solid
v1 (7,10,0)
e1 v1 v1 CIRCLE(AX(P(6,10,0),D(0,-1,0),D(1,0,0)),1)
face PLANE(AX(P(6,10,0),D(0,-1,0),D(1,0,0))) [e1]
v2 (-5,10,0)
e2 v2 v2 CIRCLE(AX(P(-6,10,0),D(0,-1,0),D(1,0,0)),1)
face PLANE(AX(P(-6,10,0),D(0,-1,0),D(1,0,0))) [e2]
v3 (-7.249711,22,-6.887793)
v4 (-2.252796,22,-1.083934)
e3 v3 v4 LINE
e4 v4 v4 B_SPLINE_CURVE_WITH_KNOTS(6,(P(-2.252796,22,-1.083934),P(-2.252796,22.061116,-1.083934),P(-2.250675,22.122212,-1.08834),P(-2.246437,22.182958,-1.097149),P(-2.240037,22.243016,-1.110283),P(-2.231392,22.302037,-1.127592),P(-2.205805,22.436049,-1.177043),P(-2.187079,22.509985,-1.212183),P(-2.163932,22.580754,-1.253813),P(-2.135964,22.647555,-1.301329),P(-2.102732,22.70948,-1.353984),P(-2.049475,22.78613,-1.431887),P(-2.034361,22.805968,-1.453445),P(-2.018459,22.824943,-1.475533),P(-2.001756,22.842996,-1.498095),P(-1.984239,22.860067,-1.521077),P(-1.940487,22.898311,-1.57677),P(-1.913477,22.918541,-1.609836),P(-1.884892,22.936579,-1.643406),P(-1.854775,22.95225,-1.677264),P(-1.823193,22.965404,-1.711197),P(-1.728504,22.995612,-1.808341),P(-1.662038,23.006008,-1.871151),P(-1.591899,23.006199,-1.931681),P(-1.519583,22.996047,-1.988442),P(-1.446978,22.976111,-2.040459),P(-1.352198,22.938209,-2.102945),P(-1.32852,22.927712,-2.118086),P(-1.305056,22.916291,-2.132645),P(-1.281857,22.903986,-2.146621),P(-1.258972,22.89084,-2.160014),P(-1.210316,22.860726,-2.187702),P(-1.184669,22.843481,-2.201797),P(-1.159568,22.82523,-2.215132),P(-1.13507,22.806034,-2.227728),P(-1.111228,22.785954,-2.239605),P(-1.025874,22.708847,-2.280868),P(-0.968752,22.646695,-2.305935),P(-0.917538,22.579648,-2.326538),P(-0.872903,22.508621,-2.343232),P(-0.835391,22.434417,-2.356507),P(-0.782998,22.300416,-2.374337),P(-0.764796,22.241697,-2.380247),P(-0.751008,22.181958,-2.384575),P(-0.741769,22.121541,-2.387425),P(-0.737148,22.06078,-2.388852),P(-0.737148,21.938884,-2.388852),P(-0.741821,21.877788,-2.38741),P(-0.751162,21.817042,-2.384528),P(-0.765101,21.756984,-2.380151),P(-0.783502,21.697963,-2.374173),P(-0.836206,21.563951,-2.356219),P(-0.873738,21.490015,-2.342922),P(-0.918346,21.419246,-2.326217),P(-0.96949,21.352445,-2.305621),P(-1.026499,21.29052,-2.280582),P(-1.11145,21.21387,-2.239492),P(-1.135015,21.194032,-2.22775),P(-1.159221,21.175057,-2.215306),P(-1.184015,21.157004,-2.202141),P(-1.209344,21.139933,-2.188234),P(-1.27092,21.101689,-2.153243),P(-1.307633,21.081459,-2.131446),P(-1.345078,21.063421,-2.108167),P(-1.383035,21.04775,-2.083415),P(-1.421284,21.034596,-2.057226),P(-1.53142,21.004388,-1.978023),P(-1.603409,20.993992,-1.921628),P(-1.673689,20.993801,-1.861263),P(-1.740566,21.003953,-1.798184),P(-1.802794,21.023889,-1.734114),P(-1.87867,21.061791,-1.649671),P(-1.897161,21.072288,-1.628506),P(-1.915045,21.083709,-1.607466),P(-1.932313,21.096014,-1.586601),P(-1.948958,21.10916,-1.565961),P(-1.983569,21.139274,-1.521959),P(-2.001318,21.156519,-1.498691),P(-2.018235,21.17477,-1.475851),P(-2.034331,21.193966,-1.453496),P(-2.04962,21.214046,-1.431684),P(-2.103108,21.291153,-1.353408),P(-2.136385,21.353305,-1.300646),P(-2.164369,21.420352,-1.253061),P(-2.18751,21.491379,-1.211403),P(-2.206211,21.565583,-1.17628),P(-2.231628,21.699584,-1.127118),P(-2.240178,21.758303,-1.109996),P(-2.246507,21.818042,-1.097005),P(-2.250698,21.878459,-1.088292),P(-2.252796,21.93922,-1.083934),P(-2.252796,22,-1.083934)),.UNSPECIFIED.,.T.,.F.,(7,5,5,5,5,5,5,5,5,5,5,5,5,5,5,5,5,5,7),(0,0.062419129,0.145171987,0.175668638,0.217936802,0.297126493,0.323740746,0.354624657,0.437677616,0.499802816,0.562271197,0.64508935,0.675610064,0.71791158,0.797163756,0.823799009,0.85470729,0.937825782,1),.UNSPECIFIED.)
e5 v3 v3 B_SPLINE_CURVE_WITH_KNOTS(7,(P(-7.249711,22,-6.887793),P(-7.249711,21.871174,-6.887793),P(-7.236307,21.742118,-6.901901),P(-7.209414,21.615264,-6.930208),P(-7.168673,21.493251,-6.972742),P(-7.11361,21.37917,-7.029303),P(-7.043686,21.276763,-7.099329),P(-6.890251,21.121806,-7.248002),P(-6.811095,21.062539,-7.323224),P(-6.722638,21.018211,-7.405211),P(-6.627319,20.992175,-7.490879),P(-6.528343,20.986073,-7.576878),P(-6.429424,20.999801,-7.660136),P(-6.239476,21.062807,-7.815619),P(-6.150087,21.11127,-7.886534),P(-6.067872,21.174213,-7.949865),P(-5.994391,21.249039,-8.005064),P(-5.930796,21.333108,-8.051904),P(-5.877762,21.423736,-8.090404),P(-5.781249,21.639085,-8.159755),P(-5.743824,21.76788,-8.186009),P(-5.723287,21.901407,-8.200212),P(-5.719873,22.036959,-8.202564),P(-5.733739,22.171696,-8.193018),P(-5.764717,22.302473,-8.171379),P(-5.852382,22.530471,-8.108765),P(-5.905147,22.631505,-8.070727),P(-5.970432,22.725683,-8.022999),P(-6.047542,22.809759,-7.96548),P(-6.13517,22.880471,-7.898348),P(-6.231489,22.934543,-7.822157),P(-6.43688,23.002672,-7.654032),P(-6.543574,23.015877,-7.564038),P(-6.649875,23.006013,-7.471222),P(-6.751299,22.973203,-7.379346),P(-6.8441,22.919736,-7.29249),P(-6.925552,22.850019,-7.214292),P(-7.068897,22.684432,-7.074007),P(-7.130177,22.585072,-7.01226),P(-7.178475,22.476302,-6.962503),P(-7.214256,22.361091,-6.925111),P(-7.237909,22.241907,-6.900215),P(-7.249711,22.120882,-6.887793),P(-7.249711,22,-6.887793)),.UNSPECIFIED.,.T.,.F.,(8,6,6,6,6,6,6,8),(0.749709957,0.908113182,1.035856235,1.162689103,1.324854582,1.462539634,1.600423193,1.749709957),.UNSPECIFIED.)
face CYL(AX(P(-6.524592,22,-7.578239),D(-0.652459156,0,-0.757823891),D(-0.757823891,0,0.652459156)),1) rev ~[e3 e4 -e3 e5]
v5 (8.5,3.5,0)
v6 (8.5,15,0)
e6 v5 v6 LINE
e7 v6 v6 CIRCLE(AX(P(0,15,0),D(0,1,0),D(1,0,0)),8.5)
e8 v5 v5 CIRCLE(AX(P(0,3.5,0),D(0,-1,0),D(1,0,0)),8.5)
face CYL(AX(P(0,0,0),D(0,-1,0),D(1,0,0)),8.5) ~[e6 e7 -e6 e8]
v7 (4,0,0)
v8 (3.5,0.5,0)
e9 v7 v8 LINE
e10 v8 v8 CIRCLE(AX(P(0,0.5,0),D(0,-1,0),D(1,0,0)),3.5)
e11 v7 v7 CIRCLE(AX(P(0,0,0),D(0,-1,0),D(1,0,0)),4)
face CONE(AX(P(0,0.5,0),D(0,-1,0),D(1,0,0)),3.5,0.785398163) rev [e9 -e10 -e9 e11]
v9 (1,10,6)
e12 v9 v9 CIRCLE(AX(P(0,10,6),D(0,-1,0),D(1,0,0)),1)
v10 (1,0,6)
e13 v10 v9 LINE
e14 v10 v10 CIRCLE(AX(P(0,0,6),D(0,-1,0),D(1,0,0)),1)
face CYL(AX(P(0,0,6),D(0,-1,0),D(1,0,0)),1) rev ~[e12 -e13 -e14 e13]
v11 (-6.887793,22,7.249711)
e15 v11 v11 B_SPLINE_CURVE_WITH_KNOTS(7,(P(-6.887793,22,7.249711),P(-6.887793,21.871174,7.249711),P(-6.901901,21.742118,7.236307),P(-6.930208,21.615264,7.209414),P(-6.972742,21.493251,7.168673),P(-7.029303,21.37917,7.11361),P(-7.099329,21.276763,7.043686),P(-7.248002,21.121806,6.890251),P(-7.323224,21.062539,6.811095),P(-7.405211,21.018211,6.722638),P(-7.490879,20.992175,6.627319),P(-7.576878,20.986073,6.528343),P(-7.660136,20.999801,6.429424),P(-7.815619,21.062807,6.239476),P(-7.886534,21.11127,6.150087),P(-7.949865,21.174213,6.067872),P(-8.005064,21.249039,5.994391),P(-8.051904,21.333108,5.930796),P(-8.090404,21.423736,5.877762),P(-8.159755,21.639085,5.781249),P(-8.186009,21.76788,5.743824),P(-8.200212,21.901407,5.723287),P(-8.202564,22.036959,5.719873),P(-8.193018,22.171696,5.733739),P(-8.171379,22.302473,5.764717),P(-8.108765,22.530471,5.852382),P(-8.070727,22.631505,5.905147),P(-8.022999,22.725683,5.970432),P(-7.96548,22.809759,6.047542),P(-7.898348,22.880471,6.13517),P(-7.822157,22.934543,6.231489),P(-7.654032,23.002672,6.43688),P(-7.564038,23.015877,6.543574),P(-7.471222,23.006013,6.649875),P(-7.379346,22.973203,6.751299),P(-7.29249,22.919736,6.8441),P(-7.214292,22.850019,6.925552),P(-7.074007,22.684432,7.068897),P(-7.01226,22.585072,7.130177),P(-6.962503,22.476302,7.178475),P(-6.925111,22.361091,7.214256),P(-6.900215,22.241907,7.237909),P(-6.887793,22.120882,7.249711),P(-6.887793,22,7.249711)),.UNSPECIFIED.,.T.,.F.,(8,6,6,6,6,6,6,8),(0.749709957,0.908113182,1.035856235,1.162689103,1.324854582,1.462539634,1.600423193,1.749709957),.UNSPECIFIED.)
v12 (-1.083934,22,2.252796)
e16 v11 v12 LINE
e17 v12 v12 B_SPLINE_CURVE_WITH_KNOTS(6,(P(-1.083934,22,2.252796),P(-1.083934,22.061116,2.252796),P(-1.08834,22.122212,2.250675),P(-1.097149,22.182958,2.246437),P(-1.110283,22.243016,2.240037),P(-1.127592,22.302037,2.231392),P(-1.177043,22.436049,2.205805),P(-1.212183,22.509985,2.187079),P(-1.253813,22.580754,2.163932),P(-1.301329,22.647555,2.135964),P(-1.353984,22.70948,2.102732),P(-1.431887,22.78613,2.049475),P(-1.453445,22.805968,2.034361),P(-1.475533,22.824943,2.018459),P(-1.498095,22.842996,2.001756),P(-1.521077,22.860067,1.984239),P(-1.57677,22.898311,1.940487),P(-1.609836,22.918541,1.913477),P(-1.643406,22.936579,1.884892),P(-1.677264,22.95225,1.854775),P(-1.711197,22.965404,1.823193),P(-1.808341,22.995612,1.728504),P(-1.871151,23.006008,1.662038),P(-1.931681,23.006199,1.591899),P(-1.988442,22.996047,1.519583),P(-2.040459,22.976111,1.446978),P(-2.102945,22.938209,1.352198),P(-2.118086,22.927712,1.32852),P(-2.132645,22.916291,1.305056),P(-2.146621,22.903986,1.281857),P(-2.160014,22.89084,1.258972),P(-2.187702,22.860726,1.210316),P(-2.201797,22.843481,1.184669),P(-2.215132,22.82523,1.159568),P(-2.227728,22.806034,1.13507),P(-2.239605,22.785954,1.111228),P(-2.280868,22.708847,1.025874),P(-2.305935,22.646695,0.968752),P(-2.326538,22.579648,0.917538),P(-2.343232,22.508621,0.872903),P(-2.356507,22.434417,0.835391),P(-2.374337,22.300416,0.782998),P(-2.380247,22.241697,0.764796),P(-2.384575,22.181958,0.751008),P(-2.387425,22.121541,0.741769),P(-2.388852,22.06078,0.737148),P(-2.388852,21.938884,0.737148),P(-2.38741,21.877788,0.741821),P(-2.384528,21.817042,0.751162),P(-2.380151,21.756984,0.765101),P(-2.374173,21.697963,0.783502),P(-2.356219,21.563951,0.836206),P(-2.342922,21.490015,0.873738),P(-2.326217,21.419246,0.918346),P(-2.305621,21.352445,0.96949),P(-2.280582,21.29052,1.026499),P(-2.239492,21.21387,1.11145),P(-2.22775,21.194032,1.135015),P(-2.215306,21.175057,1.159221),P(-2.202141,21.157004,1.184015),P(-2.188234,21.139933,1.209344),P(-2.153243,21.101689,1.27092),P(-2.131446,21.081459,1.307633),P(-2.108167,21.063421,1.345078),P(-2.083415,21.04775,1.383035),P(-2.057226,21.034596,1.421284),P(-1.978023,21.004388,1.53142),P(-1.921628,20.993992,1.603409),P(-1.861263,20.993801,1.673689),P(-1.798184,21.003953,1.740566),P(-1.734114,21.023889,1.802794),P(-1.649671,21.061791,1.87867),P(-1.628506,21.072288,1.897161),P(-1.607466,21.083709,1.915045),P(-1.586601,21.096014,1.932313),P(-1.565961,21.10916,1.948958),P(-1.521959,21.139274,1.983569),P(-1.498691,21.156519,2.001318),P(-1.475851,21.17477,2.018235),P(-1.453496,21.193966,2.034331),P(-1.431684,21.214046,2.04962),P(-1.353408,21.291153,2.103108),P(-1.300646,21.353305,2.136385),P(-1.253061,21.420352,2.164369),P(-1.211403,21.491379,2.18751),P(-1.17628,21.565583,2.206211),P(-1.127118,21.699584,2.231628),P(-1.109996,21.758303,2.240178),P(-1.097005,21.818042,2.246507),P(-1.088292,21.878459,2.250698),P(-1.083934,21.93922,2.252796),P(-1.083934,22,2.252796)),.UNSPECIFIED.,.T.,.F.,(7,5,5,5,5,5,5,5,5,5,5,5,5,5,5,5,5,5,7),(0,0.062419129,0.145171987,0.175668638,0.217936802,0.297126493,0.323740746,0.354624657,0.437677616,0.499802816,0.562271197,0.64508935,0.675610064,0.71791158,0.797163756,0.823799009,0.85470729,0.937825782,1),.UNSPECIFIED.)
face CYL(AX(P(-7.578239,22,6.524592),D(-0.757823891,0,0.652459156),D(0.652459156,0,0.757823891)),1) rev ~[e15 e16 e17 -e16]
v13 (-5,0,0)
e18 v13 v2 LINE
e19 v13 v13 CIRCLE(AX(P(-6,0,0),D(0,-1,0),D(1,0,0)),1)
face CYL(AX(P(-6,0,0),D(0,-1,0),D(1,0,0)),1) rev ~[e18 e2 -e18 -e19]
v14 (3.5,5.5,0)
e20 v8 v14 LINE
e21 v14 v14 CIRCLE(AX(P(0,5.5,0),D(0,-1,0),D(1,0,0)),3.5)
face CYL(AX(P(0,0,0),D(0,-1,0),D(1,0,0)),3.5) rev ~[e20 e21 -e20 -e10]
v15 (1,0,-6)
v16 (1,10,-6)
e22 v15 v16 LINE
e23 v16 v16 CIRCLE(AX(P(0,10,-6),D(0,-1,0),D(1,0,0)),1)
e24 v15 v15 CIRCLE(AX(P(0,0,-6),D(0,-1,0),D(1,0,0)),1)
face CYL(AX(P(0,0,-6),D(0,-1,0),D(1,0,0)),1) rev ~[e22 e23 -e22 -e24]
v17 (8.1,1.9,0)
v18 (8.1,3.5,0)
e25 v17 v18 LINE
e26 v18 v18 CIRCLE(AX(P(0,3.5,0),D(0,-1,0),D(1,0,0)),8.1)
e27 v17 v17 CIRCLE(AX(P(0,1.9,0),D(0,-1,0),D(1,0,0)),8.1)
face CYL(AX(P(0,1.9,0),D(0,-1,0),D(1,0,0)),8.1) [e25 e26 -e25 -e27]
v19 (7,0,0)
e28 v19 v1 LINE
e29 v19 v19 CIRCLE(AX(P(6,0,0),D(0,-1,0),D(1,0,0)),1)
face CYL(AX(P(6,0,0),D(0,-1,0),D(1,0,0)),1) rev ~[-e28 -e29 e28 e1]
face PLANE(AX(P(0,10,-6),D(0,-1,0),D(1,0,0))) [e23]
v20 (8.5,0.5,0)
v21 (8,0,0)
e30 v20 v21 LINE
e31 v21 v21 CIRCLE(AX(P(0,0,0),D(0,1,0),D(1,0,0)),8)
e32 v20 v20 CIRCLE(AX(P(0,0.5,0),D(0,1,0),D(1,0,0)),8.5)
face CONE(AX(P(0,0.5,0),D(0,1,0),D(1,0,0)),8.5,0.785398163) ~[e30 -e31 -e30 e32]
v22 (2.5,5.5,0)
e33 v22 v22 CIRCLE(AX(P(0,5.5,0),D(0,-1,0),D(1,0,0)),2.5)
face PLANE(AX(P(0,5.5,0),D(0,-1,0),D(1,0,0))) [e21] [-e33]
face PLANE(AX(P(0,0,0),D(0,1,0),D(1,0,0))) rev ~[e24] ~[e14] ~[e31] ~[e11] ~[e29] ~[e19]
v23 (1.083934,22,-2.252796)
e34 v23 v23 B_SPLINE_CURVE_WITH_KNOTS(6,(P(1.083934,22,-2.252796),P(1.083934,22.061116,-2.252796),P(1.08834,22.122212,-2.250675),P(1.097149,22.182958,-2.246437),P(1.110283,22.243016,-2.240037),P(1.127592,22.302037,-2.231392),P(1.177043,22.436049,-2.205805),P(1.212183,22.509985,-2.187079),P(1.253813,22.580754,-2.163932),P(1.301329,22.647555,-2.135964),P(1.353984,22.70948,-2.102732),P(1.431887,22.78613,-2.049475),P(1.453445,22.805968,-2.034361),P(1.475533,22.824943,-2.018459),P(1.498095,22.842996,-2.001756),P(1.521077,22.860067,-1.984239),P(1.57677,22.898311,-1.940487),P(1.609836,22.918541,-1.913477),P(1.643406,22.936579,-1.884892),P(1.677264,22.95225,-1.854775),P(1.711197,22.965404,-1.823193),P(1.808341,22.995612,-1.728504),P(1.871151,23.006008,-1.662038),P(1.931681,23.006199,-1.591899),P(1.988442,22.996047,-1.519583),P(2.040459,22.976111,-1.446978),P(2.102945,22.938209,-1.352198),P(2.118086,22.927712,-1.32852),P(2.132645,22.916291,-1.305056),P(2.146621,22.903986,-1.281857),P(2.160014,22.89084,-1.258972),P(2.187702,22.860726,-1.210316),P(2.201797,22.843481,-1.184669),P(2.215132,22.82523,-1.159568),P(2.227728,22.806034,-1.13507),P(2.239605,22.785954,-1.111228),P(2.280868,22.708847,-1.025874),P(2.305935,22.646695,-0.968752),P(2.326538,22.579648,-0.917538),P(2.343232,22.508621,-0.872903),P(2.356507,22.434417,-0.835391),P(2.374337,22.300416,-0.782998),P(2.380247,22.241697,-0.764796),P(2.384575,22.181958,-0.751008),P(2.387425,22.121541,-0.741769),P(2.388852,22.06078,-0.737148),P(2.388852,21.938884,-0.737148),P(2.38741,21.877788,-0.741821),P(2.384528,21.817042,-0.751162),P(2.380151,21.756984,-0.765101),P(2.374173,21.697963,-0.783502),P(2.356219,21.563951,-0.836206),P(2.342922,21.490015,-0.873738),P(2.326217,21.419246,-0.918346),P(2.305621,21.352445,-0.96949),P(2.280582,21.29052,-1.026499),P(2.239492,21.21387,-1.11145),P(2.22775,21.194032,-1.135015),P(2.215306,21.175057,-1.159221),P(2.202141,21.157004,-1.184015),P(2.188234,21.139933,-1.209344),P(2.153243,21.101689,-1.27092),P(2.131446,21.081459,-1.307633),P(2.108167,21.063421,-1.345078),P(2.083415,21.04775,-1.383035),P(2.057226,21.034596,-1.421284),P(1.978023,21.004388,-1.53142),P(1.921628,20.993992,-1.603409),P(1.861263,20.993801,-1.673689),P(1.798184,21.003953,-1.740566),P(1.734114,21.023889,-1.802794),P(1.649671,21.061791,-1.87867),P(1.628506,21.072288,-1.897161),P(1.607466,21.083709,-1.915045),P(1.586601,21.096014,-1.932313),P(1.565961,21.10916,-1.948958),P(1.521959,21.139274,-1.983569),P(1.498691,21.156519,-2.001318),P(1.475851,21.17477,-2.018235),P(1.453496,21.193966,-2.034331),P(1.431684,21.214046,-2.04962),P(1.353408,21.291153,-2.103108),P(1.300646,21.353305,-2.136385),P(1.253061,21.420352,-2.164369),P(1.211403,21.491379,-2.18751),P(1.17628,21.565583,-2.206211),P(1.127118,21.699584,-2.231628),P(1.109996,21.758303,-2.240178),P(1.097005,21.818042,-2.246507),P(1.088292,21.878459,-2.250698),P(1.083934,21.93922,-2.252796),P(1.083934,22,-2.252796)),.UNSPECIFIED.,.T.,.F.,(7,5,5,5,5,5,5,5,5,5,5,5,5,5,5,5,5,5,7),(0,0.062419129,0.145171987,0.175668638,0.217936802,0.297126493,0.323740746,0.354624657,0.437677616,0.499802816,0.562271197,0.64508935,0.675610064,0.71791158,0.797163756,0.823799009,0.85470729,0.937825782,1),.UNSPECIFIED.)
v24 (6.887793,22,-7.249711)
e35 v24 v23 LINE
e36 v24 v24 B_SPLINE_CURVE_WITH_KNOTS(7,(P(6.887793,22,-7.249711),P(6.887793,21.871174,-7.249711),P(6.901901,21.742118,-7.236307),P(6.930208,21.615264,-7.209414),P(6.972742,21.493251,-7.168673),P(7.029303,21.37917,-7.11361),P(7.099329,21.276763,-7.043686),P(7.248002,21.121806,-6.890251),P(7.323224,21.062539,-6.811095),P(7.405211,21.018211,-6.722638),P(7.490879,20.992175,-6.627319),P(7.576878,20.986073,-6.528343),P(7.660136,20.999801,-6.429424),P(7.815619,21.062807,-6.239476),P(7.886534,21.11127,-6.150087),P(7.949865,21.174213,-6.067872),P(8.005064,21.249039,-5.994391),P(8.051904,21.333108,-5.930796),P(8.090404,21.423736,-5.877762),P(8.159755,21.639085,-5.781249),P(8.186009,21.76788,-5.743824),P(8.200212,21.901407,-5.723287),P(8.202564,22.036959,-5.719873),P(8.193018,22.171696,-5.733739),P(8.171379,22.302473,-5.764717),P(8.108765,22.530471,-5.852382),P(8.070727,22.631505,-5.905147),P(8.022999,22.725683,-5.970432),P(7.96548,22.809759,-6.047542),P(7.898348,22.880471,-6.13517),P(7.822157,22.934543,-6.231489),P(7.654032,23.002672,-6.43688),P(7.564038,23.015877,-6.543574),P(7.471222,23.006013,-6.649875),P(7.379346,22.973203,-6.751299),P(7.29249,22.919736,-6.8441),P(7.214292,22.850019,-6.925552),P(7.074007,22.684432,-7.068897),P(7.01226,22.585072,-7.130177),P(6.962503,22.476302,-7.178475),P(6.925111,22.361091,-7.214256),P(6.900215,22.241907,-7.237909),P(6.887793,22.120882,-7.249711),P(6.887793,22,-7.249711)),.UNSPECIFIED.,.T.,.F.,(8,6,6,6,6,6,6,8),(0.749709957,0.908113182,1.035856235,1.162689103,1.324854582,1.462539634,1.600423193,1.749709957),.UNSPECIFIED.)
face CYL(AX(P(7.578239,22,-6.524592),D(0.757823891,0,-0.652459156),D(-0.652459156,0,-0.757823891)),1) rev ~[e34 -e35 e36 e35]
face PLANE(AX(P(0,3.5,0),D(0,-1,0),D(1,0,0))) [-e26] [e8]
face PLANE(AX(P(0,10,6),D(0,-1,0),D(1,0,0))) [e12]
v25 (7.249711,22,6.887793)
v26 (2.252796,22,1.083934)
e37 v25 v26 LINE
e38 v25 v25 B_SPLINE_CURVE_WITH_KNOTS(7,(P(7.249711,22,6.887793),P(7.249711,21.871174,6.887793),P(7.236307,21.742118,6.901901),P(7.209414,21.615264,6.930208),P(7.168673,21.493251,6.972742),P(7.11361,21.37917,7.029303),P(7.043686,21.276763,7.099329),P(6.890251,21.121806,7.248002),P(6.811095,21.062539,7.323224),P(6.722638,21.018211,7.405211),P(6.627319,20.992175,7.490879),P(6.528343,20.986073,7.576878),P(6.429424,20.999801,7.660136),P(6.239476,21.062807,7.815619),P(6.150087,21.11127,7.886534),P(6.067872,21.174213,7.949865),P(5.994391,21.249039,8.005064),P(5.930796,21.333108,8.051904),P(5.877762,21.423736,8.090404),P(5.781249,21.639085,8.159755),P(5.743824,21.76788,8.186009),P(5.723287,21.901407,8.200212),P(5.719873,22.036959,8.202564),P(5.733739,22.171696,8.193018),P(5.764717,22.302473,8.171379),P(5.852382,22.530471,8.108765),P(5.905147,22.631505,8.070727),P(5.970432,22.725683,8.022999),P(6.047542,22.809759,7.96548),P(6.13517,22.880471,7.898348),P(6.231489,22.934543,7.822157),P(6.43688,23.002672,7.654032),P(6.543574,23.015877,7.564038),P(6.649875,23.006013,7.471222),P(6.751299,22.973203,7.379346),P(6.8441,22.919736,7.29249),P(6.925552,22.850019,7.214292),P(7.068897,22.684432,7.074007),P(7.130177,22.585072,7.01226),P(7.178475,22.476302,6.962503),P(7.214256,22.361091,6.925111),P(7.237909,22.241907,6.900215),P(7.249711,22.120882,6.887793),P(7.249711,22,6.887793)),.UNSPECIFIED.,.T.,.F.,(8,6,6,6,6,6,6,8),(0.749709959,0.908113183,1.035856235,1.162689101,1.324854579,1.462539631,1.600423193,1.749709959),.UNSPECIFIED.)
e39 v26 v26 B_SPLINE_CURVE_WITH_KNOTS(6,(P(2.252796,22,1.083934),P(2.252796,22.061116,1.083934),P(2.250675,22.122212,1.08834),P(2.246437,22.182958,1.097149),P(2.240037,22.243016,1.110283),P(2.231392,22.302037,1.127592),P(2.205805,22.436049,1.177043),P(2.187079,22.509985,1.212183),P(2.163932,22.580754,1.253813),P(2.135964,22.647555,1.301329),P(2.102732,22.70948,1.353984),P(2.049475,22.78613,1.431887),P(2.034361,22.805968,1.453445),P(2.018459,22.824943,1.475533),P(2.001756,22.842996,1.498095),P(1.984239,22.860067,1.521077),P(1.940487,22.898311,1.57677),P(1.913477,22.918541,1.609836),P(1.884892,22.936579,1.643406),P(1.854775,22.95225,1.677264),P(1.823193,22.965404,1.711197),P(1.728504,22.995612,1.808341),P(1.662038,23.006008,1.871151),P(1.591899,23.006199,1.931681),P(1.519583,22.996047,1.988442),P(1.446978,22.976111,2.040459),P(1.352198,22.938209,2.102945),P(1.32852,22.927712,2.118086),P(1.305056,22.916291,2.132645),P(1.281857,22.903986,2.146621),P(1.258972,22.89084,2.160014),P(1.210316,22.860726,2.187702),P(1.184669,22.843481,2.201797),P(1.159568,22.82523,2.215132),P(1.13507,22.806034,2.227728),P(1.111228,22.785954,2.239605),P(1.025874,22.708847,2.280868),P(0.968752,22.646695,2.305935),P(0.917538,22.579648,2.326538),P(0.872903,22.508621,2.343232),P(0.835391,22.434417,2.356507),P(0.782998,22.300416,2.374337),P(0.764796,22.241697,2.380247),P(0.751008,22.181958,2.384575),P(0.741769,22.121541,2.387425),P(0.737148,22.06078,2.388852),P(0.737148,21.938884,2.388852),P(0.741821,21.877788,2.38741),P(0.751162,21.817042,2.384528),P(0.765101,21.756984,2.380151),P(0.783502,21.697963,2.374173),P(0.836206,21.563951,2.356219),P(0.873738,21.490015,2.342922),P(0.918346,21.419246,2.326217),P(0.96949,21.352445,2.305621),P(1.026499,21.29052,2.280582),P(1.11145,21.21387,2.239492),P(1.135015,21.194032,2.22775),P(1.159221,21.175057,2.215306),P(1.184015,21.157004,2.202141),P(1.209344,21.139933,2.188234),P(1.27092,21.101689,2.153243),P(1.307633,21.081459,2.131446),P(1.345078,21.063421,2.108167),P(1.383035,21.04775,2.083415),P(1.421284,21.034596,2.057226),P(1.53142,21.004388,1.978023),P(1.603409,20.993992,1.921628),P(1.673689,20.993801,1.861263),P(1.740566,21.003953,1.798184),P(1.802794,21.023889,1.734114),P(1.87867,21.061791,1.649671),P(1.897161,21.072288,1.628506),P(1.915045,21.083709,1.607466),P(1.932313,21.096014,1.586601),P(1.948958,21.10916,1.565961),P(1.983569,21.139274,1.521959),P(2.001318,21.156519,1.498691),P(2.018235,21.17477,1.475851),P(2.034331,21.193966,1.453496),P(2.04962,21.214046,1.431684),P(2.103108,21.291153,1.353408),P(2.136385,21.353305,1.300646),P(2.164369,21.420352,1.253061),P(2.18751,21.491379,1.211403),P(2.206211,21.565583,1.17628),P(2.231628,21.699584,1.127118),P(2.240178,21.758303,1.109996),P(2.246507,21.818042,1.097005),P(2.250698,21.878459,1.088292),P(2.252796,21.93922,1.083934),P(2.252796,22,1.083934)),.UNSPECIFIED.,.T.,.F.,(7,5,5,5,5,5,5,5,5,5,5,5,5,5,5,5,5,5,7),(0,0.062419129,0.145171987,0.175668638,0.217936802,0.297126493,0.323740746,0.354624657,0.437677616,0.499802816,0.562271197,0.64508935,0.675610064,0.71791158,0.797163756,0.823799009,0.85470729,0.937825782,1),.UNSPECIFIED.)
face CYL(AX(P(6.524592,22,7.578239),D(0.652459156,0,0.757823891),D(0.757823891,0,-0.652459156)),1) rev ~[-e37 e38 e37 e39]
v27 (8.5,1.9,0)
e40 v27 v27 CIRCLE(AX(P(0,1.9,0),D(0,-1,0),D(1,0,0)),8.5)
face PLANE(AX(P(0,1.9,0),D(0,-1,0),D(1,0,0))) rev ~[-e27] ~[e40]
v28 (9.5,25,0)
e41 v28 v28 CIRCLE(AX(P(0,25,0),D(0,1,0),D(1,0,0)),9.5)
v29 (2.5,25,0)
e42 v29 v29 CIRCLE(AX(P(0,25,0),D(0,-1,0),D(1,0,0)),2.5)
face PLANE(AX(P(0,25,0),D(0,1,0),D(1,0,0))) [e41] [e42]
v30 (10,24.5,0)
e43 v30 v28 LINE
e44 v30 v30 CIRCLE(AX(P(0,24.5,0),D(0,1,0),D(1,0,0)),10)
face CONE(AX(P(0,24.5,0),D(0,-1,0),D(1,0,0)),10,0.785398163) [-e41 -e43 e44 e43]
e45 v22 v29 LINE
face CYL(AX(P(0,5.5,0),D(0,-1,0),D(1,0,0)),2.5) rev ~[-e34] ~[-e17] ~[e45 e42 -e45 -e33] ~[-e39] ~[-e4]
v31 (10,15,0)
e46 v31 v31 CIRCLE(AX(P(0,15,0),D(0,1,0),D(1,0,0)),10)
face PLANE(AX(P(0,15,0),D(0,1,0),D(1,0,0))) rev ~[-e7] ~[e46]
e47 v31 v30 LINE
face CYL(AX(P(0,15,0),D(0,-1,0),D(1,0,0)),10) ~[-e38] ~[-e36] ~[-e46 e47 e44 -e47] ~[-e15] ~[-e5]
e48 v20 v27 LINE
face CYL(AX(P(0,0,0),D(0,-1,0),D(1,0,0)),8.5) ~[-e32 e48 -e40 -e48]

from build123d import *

# Parameters (mm, degrees)
SKETCH_1_R               = 8.5
EXTRUDE_1_DEPTH          = 15
SKETCH_2_R               = 10
EXTRUDE_2_DEPTH          = 10
SKETCH_3_R               = 1
CUT_EXTRUDE_1_DEPTH      = 10
CUT_EXTRUDE_START        = -1.9
SKETCH_4_R               = 8.5
SKETCH_4_R_2             = 8.1
CUT_EXTRUDE_2_DEPTH      = 1.6
CHAMFER_1_SIZE           = 0.5
SKETCH_7_R               = 1
CUT_EXTRUDE_3_DEPTH      = 8
PATTERN_CIRCULAR_1_COUNT = 4
SKETCH_8_R               = 3.5
CUT_EXTRUDE_4_DEPTH      = 5.5
CHAMFER_2_SIZE           = 0.5
CUT_EXTRUDE_5_REACH      = 21.5
SKETCH_9_R               = 2.5


with BuildPart() as part:
    # Эскиз1 → Бобышка-Вытянуть1 (new body)
    with BuildSketch(Plane(origin=(0, 0, 0), x_dir=(1, 0, 0), z_dir=(0, 1, 0))):
        Circle(SKETCH_1_R)
    extrude(amount=EXTRUDE_1_DEPTH)

    # Эскиз2 → Бобышка-Вытянуть2 (add)
    with BuildSketch(Plane(origin=(0, 15, 0), x_dir=(1, 0, 0), z_dir=(0, 1, 0))):
        Circle(SKETCH_2_R)
    extrude(amount=EXTRUDE_2_DEPTH)

    # Эскиз3 → Вырез-Вытянуть1 (cut)
    with BuildSketch(Plane.XZ):
        with Locations((0, 6)):
            Circle(SKETCH_3_R)
        with Locations((6, 0)):
            Circle(SKETCH_3_R)
        with Locations((0, -6)):
            Circle(SKETCH_3_R)
        with Locations((-6, 0)):
            Circle(SKETCH_3_R)
    extrude(amount=-CUT_EXTRUDE_1_DEPTH, mode=Mode.SUBTRACT)

    # Эскиз4 → Вырез-Вытянуть2 (cut)
    with BuildSketch(Plane.XZ.offset(CUT_EXTRUDE_START)):
        Circle(SKETCH_4_R)
        Circle(SKETCH_4_R_2, mode=Mode.SUBTRACT)
    extrude(amount=-CUT_EXTRUDE_2_DEPTH, mode=Mode.SUBTRACT)

    # Фаска1
    chamfer_1_edges = [part.edges().sort_by_distance(p)[0] for p in [
        (-8.5, 0, 0),
        (-10, 25, 0),
    ]]
    chamfer(chamfer_1_edges, length=CHAMFER_1_SIZE)

    # Эскиз7 → Вырез-Вытянуть3 (cut)
    with BuildSketch(Plane(origin=(6.524591557, 0, 7.578238913), x_dir=(0.757823891, 0, -0.652459156), z_dir=(0.652459156, 0, 0.757823891))):
        with Locations((0, 22)):
            Circle(SKETCH_7_R)
    cut_extrude_3 = extrude(amount=-CUT_EXTRUDE_3_DEPTH, mode=Mode.SUBTRACT)

    # Круговой массив1: Вырез-Вытянуть3 ×4 about axis
    pattern_circular_1_axis = Axis((0, 0, 0), (0, 1, 0))
    for i in range(1, PATTERN_CIRCULAR_1_COUNT):
        add(cut_extrude_3.rotate(pattern_circular_1_axis, i * 360 / PATTERN_CIRCULAR_1_COUNT), mode=Mode.SUBTRACT)

    # Эскиз8 → Вырез-Вытянуть4 (cut)
    with BuildSketch(Plane.XZ):
        Circle(SKETCH_8_R)
    extrude(amount=-CUT_EXTRUDE_4_DEPTH, mode=Mode.SUBTRACT)

    # Фаска2
    chamfer_2_edges = [part.edges().sort_by_distance(p)[0] for p in [
        (-3.5, 0, 0),
    ]]
    chamfer(chamfer_2_edges, length=CHAMFER_2_SIZE)

    # Эскиз9 → Вырез-Вытянуть5 (cut, up to next)
    with BuildSketch(Plane.XZ.offset(-5.5), mode=Mode.PRIVATE) as cut_extrude_5_sk1:
        Circle(SKETCH_9_R)
    cut_extrude_5_tool1 = extrude(cut_extrude_5_sk1.sketch, amount=-CUT_EXTRUDE_5_REACH, mode=Mode.PRIVATE) & part.part
    add(cut_extrude_5_tool1.solids().sort_by_distance((0, 5.5, 0))[0], mode=Mode.SUBTRACT)


solid = part.part
